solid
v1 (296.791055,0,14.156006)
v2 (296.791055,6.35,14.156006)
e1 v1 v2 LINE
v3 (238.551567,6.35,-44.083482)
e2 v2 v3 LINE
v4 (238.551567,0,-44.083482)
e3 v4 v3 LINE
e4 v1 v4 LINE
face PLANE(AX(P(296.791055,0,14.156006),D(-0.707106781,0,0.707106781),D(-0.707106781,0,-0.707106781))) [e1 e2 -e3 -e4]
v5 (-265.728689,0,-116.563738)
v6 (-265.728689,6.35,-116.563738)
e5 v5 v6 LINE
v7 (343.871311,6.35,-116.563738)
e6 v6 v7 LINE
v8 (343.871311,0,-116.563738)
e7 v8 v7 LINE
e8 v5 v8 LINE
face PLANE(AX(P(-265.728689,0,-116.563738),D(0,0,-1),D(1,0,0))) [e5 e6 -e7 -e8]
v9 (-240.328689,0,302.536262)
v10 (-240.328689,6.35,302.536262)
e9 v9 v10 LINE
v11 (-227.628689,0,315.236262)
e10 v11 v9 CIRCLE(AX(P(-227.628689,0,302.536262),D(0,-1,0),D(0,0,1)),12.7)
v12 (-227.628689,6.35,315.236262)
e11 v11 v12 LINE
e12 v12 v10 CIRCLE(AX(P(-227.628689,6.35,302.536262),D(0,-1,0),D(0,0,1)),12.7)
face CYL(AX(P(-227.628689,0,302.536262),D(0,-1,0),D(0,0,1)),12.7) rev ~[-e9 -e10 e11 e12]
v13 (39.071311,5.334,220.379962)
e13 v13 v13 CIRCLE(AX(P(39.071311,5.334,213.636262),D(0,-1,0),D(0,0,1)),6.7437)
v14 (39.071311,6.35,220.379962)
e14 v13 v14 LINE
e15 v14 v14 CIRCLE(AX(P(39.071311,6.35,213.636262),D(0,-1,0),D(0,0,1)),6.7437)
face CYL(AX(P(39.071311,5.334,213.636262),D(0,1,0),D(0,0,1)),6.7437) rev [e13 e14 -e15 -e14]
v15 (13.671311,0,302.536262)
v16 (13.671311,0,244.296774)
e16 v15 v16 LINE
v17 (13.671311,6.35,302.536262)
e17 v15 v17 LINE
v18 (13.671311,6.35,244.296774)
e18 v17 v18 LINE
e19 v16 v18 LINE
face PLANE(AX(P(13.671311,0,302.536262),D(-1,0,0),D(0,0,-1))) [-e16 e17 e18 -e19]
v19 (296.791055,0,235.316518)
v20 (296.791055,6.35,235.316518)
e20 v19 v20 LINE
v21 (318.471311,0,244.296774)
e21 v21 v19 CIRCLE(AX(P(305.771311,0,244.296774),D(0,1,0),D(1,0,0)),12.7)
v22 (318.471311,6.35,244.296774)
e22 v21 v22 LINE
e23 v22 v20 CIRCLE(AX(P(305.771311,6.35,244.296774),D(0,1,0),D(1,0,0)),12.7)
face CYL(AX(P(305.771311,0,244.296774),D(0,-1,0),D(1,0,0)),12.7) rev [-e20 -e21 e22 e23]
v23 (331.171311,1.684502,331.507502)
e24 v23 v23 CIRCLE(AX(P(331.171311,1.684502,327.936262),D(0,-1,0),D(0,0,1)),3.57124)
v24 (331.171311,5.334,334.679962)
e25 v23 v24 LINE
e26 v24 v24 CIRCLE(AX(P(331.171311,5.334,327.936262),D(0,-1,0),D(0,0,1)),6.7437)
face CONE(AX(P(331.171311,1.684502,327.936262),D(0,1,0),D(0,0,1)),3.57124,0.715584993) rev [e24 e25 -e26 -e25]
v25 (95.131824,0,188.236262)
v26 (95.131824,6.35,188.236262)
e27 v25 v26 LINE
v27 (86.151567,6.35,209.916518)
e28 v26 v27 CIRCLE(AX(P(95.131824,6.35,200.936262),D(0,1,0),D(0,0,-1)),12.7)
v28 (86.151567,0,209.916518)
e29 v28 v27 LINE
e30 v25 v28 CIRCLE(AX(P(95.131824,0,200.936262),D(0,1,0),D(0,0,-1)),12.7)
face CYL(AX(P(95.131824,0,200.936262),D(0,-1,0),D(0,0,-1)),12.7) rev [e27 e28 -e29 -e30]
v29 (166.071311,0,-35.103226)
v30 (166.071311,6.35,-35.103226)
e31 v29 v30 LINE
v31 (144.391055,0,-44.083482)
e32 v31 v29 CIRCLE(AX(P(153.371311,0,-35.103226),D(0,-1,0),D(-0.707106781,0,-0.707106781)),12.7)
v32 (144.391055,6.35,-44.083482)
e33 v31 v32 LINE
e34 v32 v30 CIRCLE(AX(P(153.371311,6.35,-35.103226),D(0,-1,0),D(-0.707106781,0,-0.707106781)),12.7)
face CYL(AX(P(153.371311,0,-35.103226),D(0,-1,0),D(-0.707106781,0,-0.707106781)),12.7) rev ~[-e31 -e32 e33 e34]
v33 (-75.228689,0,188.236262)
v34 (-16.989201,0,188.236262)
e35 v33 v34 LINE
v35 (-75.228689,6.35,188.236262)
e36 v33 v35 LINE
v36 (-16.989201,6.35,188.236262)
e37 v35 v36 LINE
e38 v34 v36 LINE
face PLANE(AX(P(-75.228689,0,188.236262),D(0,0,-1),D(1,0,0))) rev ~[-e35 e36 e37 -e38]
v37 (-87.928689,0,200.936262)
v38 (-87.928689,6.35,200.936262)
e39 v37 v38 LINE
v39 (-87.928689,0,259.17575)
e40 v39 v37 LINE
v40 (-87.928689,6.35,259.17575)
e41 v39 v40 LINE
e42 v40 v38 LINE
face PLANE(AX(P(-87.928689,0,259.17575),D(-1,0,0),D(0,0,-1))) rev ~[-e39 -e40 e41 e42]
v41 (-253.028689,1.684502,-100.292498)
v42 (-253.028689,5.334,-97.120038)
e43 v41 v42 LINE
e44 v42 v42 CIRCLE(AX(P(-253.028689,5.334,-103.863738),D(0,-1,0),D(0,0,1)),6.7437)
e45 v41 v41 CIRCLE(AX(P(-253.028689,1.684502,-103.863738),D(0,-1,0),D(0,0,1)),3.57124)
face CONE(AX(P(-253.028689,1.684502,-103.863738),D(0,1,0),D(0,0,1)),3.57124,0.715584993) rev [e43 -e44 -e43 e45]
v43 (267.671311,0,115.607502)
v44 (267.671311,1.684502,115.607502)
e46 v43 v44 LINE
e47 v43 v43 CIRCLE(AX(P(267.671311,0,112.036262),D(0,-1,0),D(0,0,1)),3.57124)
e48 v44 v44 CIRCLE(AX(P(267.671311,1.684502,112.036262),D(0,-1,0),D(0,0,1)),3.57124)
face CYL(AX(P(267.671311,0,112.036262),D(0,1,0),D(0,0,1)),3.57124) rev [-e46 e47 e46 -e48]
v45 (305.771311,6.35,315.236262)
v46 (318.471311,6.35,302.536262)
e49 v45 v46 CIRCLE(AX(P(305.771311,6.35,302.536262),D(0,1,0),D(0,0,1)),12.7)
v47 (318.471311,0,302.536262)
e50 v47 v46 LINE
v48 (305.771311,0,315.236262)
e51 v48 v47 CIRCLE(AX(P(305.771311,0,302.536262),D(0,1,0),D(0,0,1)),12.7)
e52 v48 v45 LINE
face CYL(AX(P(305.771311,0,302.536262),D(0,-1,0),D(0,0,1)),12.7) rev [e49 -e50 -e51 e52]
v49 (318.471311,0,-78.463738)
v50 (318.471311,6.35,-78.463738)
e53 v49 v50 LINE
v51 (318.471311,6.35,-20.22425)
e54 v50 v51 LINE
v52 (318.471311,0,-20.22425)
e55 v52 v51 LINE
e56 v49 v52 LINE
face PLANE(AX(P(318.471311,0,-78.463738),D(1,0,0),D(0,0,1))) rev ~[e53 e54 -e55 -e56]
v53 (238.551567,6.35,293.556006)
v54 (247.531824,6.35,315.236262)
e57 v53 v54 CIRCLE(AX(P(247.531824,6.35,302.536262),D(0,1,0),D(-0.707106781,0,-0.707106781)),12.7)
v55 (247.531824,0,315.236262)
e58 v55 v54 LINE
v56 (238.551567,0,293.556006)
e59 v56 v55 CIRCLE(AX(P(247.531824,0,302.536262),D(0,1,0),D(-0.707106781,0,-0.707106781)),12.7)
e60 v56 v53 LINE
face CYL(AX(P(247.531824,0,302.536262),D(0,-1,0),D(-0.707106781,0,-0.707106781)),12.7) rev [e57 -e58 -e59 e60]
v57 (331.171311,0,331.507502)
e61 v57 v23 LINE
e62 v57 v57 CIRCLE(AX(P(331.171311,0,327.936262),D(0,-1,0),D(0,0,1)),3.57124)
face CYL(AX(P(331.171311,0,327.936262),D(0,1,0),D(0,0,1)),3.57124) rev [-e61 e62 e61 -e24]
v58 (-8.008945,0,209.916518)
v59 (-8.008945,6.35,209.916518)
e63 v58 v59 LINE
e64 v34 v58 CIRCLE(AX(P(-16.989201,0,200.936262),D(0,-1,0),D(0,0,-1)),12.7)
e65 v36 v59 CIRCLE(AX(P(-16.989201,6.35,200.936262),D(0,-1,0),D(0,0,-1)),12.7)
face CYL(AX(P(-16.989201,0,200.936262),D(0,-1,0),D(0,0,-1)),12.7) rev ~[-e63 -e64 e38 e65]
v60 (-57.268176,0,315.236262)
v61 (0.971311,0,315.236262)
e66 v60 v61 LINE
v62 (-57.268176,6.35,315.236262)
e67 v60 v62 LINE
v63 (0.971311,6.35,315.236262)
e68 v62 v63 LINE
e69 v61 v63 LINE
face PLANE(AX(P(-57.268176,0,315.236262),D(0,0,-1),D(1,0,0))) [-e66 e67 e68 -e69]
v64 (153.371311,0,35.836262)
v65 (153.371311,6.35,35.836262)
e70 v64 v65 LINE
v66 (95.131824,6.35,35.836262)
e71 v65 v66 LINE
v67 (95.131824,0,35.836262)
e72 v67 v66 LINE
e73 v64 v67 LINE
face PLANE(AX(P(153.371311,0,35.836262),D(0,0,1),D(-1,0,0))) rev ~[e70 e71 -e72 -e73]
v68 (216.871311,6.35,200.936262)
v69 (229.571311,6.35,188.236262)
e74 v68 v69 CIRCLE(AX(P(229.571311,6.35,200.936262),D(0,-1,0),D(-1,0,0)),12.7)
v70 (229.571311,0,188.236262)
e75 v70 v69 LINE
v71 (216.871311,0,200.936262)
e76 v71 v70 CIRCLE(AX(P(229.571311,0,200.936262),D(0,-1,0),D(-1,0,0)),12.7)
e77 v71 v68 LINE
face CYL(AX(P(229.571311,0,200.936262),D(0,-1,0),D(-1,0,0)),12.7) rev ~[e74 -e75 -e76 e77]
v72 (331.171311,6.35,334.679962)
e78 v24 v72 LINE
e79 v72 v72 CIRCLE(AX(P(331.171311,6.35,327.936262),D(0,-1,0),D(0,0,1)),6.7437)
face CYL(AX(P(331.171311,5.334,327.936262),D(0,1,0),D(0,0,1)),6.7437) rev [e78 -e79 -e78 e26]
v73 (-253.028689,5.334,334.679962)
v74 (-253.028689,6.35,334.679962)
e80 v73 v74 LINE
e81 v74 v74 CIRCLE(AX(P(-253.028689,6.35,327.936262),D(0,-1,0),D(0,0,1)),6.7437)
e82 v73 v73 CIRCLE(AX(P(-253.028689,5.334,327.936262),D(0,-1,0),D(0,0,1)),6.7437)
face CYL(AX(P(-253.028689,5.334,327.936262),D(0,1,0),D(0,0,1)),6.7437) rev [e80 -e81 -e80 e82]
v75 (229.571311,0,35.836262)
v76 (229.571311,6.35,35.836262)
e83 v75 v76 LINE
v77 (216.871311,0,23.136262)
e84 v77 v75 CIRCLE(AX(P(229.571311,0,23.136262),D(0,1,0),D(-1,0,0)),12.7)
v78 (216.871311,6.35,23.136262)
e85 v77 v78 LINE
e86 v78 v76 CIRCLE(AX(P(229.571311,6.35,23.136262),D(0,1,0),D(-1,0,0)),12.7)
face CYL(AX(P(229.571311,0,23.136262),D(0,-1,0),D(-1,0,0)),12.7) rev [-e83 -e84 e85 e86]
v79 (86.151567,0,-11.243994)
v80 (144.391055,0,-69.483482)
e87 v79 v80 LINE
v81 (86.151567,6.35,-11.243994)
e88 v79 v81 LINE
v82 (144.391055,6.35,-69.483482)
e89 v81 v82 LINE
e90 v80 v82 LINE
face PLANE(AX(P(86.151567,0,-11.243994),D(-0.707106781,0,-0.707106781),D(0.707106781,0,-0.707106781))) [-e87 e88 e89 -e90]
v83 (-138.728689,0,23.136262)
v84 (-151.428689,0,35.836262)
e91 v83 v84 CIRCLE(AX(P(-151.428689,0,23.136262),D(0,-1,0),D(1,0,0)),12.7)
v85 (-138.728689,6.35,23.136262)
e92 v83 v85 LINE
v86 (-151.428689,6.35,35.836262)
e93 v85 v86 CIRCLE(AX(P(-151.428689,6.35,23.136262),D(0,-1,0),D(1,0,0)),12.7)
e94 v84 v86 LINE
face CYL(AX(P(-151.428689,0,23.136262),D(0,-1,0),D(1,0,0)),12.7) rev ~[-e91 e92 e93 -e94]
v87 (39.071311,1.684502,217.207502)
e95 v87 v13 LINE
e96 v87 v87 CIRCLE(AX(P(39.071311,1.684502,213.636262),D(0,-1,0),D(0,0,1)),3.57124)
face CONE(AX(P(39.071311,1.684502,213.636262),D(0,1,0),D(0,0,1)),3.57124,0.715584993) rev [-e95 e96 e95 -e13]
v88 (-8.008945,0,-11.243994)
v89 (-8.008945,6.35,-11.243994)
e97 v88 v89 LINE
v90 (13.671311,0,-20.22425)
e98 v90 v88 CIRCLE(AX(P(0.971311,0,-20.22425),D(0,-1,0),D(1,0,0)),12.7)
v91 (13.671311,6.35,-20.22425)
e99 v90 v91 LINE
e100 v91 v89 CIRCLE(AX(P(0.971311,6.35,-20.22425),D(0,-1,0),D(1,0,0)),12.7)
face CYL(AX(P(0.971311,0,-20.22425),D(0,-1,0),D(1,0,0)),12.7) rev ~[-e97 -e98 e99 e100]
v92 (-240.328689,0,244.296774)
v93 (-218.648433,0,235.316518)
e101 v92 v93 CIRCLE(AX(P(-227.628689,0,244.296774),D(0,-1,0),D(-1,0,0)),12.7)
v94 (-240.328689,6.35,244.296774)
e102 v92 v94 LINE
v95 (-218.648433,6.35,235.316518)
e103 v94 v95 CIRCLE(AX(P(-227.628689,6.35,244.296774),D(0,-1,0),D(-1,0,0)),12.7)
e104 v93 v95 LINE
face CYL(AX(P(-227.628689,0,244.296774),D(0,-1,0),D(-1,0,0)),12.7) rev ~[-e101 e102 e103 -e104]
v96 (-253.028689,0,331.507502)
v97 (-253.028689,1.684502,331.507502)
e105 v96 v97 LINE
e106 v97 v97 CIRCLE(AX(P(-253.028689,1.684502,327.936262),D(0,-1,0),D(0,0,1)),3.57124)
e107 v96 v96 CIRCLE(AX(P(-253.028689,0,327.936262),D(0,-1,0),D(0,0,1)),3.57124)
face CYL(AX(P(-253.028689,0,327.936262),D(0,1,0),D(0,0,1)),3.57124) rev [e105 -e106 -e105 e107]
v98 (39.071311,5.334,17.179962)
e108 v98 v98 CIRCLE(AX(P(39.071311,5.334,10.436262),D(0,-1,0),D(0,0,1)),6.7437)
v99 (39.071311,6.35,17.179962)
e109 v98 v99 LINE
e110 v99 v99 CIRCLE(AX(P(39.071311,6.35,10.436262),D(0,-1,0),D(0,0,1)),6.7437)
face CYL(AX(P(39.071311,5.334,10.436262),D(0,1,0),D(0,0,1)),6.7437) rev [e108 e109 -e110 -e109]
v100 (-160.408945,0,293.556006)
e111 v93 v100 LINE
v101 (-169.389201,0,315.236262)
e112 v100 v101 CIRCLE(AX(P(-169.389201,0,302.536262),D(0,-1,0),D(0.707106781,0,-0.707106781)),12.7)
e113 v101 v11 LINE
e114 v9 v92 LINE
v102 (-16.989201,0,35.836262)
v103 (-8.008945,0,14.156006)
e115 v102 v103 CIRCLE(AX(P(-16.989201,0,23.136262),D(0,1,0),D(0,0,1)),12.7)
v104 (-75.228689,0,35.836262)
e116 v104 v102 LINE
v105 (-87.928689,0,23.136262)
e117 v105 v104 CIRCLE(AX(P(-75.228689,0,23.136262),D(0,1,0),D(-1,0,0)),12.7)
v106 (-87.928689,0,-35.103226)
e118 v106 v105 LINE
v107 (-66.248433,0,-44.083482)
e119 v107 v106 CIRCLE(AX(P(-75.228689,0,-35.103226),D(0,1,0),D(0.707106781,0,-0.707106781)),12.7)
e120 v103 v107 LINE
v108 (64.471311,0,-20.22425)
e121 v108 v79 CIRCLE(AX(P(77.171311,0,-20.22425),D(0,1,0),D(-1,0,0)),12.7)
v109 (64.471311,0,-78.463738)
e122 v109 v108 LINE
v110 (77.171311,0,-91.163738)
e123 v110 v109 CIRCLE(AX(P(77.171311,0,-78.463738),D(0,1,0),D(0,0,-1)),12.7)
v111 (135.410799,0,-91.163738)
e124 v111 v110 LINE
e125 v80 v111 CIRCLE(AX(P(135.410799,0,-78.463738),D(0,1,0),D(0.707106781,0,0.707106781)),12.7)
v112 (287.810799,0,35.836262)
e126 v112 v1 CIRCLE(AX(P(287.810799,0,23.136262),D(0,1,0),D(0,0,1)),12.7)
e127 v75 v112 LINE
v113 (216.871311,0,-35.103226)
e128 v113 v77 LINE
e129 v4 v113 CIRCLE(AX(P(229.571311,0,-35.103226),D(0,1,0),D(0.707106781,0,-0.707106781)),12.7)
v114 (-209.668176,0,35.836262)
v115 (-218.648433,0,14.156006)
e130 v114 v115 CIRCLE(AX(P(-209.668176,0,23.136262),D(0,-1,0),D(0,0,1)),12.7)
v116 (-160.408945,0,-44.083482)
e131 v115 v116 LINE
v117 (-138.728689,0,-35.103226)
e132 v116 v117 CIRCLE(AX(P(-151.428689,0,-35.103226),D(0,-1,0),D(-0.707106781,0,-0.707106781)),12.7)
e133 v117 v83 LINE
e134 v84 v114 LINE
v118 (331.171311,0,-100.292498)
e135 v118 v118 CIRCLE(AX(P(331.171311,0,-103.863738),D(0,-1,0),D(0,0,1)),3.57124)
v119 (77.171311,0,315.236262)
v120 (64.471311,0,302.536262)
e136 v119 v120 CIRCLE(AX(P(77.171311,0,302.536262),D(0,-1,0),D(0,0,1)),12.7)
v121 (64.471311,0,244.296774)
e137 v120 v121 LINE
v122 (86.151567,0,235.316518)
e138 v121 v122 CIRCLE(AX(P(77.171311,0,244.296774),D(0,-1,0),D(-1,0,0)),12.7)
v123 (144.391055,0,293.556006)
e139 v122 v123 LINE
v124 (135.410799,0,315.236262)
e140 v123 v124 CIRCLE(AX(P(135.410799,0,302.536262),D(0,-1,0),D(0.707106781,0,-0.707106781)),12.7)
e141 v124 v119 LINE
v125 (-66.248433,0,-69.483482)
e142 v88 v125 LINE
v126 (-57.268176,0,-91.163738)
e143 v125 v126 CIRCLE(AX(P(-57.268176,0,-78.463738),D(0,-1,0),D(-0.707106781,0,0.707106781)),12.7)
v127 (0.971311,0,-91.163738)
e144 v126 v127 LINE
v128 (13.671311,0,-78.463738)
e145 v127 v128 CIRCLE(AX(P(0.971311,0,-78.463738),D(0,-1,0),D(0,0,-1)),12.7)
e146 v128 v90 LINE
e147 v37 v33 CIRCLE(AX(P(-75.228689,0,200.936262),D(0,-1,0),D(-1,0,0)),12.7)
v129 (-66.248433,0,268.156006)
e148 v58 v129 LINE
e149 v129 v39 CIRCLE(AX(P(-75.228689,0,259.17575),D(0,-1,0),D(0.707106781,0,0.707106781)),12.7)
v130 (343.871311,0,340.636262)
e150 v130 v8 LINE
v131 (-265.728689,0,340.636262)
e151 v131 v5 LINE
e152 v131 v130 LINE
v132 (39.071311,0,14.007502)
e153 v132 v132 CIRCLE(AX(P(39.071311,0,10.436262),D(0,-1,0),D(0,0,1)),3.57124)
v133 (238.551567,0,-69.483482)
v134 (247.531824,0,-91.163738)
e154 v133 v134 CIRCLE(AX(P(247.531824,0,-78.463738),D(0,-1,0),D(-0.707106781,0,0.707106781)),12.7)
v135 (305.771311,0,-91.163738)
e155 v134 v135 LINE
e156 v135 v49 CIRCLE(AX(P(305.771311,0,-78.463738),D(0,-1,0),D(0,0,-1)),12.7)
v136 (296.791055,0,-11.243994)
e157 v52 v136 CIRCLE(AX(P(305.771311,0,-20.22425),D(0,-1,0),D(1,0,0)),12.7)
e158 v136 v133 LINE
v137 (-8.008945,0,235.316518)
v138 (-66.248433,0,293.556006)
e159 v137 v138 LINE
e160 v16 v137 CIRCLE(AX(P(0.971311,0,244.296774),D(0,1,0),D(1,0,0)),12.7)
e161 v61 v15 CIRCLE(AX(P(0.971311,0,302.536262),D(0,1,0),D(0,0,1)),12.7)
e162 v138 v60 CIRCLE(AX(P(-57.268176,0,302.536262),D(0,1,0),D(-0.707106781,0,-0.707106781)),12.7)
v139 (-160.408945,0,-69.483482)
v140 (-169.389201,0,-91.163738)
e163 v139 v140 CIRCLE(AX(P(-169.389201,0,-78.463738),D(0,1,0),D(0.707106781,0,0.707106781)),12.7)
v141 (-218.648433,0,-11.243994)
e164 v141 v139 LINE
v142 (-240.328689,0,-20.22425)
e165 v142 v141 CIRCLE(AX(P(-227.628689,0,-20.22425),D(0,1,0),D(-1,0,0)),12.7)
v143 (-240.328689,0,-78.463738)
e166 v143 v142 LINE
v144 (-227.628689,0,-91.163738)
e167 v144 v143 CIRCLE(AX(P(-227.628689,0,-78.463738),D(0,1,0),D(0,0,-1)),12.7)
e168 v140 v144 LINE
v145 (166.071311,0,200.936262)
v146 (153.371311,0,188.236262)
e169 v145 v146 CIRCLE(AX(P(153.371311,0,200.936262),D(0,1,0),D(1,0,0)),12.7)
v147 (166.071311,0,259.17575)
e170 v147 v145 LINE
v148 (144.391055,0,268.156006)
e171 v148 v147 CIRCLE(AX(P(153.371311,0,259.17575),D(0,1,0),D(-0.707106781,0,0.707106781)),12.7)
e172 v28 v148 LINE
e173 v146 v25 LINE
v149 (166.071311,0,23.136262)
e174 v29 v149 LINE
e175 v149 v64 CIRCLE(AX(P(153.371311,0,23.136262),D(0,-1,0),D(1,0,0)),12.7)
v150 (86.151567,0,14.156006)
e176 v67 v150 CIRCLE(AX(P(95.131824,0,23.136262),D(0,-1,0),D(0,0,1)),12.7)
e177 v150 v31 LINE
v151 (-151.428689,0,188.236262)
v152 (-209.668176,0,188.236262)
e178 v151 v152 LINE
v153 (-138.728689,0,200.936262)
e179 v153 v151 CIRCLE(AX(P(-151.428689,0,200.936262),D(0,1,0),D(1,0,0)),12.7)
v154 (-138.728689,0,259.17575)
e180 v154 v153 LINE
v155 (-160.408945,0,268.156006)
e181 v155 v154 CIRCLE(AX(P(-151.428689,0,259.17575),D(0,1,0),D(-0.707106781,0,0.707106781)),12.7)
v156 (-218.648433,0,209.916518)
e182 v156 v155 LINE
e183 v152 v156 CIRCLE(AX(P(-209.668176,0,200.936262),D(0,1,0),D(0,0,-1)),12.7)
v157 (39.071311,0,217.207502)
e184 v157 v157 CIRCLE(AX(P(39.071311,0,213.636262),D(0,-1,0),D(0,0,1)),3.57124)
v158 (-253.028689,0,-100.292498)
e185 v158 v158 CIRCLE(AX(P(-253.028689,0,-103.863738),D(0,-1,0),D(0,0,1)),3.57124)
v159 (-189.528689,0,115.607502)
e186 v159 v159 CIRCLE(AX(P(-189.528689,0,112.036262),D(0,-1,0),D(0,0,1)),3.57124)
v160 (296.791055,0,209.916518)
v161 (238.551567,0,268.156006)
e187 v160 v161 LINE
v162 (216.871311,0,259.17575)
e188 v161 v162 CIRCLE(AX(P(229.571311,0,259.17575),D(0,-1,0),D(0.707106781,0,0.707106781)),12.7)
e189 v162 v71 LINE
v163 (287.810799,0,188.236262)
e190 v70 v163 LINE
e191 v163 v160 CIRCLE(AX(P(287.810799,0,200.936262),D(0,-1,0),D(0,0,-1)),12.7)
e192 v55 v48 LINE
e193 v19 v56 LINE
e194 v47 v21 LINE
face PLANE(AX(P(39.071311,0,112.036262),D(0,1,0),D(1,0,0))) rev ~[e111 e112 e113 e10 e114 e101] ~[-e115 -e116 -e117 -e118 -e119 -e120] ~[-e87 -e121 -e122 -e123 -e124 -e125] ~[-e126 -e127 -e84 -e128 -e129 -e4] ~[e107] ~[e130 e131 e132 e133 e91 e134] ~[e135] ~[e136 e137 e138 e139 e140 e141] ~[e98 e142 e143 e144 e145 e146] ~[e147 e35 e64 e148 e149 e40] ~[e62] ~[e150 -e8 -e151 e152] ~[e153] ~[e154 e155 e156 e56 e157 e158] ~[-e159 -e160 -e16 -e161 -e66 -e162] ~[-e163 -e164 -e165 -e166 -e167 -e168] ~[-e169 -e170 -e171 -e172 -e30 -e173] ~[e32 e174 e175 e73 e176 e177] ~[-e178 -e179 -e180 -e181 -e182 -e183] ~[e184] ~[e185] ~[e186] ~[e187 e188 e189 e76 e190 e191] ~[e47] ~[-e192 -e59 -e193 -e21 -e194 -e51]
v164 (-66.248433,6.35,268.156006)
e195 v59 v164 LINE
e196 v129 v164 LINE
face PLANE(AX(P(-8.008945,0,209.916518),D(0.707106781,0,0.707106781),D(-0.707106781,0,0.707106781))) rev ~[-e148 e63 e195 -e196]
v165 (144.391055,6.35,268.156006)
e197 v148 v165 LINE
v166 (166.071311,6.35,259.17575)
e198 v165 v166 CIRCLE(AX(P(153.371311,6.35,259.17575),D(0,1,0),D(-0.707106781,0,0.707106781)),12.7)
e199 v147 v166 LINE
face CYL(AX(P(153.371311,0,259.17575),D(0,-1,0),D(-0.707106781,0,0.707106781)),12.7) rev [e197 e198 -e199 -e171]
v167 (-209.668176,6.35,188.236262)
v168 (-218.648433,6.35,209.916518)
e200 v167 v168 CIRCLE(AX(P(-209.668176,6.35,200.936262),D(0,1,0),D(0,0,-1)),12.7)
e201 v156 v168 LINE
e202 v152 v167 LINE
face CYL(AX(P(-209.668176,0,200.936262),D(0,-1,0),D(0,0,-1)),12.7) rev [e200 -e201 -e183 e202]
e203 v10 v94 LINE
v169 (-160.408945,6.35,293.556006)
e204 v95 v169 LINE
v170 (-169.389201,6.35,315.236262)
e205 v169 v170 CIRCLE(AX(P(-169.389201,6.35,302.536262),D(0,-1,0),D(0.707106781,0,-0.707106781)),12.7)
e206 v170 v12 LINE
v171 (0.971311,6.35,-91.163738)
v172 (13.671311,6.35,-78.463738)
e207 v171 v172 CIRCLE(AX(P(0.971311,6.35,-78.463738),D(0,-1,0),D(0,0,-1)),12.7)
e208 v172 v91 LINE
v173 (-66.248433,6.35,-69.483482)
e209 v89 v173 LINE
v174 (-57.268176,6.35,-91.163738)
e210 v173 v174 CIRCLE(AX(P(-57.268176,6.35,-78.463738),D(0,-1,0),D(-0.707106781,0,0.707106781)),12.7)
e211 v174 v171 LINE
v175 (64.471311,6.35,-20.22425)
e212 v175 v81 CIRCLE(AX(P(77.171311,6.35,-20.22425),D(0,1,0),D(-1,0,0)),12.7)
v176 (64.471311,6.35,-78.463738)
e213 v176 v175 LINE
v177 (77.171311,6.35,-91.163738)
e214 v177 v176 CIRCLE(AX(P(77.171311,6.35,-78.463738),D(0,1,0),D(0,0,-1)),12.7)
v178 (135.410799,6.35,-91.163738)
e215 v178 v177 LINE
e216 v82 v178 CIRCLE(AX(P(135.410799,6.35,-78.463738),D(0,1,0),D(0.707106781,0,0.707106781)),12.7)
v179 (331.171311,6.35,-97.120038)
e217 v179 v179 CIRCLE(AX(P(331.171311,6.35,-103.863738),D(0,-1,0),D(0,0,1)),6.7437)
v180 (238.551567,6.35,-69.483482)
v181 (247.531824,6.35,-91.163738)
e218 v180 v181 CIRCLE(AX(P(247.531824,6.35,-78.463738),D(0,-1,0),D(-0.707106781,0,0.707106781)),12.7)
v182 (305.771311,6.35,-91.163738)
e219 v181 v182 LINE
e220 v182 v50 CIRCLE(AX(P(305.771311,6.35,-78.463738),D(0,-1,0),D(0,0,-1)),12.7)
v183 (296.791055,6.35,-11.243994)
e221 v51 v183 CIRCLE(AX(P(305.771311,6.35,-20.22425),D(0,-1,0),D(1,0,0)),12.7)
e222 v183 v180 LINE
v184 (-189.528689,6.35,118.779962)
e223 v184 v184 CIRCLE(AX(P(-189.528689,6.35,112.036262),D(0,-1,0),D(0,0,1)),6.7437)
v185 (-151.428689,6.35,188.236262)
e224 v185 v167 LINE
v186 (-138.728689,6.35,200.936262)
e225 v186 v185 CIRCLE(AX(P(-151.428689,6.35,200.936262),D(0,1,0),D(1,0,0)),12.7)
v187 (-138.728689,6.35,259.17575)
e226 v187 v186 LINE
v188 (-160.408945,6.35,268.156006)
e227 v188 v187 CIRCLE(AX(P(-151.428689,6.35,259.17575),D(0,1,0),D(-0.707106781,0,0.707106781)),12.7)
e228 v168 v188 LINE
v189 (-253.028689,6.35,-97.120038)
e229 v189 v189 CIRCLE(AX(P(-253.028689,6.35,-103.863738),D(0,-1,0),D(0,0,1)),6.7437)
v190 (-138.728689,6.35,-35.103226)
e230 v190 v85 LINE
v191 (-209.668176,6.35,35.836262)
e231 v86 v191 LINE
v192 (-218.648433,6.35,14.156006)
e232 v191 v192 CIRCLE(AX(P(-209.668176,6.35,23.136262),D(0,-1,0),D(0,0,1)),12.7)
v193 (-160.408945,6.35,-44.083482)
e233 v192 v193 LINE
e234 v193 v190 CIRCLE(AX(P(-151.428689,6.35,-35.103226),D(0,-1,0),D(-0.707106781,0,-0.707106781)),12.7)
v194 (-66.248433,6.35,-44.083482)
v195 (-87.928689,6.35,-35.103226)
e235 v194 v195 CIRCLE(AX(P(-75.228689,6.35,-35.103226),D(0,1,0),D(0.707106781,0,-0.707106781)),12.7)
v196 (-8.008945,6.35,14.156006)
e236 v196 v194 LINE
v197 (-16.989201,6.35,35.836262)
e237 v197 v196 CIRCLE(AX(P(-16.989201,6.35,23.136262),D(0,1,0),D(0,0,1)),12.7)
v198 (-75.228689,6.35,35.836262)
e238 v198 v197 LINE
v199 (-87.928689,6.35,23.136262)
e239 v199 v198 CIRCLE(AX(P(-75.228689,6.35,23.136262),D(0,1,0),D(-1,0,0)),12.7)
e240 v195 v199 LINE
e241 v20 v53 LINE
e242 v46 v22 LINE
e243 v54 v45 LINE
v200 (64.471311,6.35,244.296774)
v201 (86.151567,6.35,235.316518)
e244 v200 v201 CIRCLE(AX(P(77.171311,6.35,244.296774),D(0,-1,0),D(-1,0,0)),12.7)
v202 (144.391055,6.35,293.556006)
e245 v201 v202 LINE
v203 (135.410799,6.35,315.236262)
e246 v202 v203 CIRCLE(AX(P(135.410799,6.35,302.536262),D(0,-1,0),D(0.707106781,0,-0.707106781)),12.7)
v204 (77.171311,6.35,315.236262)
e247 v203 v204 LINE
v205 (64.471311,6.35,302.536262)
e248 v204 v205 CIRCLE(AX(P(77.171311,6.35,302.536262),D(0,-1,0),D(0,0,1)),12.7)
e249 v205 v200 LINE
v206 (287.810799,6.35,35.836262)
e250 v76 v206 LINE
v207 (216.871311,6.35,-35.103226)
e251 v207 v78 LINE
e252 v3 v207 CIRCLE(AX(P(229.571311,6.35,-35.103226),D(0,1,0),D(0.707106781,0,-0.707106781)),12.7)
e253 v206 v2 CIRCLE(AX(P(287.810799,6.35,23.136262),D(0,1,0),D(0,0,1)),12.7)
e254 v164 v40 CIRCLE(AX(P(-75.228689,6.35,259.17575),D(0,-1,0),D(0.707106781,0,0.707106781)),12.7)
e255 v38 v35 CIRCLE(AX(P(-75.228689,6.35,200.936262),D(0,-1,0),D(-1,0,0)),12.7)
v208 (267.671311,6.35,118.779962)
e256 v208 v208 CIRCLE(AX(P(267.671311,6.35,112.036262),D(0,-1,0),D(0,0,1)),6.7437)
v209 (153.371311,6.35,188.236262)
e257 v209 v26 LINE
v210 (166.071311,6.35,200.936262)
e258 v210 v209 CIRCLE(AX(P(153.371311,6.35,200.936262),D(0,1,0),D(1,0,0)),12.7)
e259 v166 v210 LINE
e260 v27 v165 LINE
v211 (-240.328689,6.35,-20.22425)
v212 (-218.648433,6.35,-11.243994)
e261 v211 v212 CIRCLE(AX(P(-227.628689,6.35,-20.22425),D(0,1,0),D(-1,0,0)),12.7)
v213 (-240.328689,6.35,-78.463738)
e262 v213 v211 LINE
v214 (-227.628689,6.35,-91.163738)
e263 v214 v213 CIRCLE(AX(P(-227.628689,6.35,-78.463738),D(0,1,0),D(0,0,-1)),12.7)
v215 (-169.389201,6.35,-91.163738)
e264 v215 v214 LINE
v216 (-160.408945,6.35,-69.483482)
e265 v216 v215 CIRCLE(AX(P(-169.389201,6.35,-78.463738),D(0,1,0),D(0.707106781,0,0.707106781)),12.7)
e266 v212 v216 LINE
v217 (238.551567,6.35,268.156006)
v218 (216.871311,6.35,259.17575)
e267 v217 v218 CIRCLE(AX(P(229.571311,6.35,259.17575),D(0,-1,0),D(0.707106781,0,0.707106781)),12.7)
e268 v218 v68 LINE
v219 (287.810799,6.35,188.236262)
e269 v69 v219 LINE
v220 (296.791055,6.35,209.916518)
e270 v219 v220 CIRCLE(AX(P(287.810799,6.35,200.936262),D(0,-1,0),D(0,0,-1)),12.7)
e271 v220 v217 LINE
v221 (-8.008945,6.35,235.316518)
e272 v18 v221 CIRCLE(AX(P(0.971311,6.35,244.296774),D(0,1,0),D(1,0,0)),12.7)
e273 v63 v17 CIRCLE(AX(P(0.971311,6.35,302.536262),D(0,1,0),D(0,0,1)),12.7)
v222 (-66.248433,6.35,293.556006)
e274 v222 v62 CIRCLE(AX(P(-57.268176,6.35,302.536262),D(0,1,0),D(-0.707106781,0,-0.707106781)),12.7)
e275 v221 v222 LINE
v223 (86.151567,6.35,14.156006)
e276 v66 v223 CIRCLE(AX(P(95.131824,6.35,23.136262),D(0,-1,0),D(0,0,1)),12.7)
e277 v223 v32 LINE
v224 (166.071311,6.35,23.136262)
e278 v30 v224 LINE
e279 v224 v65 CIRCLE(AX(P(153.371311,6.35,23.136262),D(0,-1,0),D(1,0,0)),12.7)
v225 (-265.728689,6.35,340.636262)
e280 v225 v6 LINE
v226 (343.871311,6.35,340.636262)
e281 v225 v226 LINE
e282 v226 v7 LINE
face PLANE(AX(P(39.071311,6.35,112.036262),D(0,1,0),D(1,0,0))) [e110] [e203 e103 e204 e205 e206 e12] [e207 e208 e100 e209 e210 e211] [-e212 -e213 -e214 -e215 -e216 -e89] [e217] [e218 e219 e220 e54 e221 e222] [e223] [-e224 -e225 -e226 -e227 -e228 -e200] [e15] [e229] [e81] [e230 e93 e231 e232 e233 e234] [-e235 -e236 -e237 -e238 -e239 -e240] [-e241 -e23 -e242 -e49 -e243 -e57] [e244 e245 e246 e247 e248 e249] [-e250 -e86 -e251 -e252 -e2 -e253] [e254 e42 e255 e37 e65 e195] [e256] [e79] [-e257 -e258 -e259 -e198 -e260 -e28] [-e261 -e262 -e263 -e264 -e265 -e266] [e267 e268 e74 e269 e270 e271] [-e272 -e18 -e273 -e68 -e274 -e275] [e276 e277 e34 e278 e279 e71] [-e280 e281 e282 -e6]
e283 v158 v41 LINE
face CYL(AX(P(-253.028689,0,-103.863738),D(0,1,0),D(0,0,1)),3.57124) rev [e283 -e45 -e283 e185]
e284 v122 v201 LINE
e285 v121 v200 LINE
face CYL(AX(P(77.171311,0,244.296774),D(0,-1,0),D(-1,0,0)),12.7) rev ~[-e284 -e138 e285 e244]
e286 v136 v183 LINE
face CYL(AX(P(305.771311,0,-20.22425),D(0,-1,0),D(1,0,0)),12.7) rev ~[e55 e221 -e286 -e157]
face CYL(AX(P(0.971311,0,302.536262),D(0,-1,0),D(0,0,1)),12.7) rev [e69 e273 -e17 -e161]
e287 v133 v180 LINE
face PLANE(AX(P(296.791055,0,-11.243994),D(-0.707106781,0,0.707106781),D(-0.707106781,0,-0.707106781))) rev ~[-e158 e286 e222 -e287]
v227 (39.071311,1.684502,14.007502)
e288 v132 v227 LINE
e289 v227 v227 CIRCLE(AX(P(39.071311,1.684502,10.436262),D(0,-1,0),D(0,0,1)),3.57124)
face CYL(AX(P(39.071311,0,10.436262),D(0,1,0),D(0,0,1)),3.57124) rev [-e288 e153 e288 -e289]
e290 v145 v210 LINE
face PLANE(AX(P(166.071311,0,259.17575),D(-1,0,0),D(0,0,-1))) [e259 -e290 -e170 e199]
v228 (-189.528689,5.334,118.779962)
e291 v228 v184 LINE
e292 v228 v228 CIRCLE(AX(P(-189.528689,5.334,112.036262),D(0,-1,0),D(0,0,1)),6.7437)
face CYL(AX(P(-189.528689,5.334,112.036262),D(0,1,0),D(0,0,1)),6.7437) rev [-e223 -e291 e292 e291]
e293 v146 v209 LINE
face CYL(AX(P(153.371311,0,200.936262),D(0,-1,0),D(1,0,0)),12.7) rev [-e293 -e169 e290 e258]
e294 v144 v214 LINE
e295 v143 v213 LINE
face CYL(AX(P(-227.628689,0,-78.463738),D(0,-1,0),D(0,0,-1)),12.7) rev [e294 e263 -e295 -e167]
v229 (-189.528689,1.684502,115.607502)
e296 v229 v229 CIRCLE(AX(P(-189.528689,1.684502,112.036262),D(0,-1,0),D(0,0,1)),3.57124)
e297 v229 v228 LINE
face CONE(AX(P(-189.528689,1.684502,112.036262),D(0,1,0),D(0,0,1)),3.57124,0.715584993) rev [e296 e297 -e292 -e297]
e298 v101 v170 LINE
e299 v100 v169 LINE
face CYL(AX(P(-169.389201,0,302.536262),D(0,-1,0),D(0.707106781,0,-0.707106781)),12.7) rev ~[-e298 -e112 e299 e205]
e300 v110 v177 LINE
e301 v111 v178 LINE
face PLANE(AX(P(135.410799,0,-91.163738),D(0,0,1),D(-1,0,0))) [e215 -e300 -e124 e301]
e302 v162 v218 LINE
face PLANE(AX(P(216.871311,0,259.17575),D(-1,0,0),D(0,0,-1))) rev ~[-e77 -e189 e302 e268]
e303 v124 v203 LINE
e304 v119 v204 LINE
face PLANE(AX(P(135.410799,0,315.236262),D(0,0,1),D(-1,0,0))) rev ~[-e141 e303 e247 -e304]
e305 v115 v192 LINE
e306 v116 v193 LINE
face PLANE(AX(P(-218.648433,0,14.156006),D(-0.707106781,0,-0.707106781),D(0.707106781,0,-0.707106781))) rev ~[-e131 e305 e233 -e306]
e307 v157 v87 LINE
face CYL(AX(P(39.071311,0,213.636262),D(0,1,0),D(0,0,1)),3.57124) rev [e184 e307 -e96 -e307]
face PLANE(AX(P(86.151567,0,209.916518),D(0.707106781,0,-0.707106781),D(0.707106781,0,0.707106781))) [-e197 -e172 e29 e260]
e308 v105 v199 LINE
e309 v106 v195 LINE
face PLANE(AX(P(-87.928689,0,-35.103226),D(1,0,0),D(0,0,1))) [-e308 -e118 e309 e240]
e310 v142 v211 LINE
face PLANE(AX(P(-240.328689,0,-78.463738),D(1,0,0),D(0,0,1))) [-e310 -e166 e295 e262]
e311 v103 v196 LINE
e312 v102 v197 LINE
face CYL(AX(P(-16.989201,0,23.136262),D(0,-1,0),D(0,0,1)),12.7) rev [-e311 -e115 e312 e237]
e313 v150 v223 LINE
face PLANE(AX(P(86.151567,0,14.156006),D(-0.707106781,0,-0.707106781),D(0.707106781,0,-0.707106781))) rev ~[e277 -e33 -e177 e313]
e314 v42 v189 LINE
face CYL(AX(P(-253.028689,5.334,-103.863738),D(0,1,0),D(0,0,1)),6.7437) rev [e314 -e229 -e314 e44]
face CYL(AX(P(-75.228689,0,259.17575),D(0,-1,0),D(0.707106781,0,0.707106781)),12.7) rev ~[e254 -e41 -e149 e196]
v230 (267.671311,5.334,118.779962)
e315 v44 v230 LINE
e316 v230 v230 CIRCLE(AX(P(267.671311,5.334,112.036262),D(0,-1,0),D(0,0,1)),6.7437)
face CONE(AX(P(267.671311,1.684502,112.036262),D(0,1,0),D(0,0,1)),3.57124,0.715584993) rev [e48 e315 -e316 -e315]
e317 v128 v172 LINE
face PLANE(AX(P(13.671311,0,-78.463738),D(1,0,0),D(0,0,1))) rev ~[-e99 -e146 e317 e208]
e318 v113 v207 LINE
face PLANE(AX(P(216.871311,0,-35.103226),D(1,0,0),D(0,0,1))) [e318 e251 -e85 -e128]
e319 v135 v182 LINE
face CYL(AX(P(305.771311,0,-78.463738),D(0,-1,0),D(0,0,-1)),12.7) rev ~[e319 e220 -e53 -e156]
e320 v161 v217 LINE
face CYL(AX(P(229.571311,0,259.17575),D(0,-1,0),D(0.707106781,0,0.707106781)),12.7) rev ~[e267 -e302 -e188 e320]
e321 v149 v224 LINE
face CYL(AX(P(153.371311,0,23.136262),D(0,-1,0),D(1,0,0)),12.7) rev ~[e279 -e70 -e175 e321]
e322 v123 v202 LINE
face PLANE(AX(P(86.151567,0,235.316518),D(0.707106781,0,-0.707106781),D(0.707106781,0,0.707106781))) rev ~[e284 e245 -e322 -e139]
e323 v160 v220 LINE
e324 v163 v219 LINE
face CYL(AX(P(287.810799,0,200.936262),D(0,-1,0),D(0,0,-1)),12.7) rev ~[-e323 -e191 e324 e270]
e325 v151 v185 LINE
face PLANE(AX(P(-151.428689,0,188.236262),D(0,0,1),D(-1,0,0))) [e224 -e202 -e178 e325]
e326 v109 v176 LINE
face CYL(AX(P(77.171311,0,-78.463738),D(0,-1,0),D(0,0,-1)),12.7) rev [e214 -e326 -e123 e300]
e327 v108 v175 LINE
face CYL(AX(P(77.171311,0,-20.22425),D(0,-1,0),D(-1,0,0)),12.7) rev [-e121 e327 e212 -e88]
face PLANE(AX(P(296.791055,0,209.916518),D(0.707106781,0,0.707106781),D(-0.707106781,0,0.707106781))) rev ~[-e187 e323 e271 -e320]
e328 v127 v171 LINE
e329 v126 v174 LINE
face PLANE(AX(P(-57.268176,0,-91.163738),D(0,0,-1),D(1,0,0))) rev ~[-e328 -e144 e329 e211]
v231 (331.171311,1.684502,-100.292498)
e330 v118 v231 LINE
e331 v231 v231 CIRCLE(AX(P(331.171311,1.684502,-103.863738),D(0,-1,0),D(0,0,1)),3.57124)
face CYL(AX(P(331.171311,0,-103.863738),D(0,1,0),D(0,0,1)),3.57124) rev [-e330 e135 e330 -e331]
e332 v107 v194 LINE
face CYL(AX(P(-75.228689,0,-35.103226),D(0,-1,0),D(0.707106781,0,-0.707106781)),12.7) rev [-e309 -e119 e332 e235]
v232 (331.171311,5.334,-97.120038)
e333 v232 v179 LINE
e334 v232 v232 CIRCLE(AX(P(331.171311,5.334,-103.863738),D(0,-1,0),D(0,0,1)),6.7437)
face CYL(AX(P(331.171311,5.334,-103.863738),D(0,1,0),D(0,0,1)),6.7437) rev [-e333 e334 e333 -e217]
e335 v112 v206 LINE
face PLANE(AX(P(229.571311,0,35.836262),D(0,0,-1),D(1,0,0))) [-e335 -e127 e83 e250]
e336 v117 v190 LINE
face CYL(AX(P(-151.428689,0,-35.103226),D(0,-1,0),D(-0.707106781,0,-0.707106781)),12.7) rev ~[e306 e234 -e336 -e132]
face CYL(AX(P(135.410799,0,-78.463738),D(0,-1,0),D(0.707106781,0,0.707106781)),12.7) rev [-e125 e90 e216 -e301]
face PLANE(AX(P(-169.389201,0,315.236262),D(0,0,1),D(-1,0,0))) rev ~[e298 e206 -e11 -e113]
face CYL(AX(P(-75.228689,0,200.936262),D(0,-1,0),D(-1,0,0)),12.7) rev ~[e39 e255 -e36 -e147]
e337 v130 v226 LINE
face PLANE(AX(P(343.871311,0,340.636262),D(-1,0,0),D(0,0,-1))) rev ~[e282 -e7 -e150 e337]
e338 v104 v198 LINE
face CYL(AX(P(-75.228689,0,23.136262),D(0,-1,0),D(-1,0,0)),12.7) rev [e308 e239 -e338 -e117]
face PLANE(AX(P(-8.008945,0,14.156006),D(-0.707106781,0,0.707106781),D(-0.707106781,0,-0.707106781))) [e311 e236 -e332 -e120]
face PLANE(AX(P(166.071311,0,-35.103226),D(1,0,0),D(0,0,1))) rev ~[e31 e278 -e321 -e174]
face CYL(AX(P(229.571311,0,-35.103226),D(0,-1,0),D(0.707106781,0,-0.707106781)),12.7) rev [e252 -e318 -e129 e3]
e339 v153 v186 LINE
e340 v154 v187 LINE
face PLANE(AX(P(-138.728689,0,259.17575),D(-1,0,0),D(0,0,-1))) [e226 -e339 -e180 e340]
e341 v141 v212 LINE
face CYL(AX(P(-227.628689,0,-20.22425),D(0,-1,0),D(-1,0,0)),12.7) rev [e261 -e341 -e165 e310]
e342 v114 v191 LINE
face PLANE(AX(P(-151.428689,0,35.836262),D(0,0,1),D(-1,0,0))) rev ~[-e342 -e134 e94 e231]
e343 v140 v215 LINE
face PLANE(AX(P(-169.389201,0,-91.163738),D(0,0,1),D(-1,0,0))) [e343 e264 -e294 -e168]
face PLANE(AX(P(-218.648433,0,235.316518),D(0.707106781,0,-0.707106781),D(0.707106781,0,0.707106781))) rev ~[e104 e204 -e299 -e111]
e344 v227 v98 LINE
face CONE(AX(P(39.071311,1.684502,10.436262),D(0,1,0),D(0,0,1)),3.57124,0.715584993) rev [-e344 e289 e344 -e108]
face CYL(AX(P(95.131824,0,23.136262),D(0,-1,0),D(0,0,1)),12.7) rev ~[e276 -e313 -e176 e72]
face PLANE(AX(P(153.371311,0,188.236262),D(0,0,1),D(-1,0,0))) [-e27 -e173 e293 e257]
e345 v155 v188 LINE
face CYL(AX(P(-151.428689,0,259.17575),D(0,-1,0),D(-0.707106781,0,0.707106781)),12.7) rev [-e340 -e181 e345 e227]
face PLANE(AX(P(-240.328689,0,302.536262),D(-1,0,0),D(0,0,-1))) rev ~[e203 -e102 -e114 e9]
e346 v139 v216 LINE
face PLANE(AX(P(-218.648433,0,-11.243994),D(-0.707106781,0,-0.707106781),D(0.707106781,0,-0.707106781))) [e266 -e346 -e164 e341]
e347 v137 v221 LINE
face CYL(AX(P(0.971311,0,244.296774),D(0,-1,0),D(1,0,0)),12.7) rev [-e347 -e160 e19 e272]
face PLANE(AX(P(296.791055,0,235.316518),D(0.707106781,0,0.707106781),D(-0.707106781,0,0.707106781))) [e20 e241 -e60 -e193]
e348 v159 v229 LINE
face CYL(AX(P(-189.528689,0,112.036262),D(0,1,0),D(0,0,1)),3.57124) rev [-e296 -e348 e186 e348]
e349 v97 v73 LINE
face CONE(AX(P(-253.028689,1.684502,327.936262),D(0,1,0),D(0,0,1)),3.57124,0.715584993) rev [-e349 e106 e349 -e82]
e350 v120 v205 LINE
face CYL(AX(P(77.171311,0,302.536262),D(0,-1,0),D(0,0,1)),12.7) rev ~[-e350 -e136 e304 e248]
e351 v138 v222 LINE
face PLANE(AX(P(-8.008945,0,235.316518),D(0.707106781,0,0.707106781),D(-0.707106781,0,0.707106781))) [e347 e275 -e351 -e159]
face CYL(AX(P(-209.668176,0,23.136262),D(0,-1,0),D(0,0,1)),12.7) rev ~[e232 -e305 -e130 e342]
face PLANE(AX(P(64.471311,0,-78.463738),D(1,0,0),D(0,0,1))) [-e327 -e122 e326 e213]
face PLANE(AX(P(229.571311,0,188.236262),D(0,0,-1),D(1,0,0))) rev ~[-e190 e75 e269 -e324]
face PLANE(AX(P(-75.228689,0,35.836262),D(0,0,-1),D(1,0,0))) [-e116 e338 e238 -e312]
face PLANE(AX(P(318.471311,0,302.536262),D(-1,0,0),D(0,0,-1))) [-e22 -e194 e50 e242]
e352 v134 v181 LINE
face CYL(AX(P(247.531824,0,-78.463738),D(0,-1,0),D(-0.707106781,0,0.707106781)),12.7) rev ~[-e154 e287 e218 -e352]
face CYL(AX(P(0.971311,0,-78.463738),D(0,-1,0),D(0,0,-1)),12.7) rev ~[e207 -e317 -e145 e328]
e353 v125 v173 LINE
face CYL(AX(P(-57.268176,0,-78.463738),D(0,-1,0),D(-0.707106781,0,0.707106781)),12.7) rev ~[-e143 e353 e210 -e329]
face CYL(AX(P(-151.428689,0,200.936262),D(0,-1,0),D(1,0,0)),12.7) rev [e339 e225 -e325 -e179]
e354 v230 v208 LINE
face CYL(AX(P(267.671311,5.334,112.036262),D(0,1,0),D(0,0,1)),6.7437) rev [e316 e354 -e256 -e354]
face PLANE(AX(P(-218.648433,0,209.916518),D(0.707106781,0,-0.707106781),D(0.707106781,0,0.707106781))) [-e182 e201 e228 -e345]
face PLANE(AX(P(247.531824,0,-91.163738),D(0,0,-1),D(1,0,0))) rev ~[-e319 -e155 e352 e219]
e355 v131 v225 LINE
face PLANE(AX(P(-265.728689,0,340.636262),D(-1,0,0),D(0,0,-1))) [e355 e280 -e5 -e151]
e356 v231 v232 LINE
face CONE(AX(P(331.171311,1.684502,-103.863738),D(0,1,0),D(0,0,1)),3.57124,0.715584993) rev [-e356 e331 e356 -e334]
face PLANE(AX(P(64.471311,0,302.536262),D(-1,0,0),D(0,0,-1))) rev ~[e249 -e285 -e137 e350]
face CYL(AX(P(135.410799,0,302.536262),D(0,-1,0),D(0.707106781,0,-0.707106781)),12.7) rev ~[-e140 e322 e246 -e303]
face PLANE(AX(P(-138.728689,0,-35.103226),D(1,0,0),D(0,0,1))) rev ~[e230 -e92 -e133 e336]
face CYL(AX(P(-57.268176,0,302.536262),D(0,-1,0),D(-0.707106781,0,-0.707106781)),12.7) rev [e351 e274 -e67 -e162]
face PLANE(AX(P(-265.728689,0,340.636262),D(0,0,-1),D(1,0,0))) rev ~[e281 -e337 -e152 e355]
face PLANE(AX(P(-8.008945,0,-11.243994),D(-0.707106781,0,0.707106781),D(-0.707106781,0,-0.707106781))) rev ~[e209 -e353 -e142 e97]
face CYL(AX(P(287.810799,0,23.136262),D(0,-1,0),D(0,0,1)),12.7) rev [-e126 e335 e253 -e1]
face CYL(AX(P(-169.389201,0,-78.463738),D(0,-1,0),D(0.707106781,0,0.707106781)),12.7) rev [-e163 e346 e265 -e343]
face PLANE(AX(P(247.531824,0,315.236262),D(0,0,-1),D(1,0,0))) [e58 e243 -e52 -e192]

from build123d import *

# Parameters (mm, degrees)
SKETCH2_W                                    = 609.6
SKETCH2_H                                    = 457.2
BOSS_EXTRUDE1_DEPTH                          = 6.35
CSK_FOR_1_4_FLAT_HEAD_SOCKET_CAP_SCR_2_COUNT = 2
CSK_FOR_1_4_FLAT_HEAD_SOCKET_CAP_SCR_2_PITCH = 225.044573363
CSK_FOR_1_4_FLAT_HEAD_SOCKET_CAP_SCR_3_COUNT = 2
CSK_FOR_1_4_FLAT_HEAD_SOCKET_CAP_SCR_3_PITCH = 431.8
CSK_FOR_1_4_FLAT_HEAD_SOCKET_CAP_SCR_4_COUNT = 2
CSK_FOR_1_4_FLAT_HEAD_SOCKET_CAP_SCR_4_PITCH = 431.426308887
CSK_FOR_1_4_FLAT_HEAD_SOCKET_CAP_SCR_5_COUNT = 2
CSK_FOR_1_4_FLAT_HEAD_SOCKET_CAP_SCR_5_PITCH = 313.666861495
CSK_FOR_1_4_FLAT_HEAD_SOCKET_CAP_SCR_6_COUNT = 2
CSK_FOR_1_4_FLAT_HEAD_SOCKET_CAP_SCR_6_PITCH = 584.2
CSK_FOR_1_4_FLAT_HEAD_SOCKET_CAP_SCR_7_COUNT = 2
CSK_FOR_1_4_FLAT_HEAD_SOCKET_CAP_SCR_7_PITCH = 563.685461938
CSK_FOR_1_4_FLAT_HEAD_SOCKET_CAP_SCR_8_COUNT = 2
CSK_FOR_1_4_FLAT_HEAD_SOCKET_CAP_SCR_8_PITCH = 726.457762021


with BuildPart() as part:
    # Sketch2 → Boss-Extrude1 (new body)
    with BuildSketch(Plane(origin=(0, 0, 0), x_dir=(1, 0, 0), z_dir=(0, 1, 0))):
        with Locations((39.071311338, -112.036262161)):
            Rectangle(SKETCH2_W, SKETCH2_H)
        with BuildLine():
            Line((-240.328688662, 78.463737839), (-240.328688662, 20.224250081))
            ThreePointArc((-240.328688662, 20.224250081), (-232.488768253, 8.490980019), (-218.648432541, 11.24399396))
            Line((-218.648432541, 11.24399396), (-160.408944783, 69.483481718))
            ThreePointArc((-160.408944783, 69.483481718), (-157.655930841, 83.32381743), (-169.389200904, 91.163737839))
            Line((-169.389200904, 91.163737839), (-227.628688662, 91.163737839))
            ThreePointArc((-227.628688662, 91.163737839), (-236.608944783, 87.44399396), (-240.328688662, 78.463737839))
        make_face(mode=Mode.SUBTRACT)
        with BuildLine():
            Line((-218.648432541, -14.15600604), (-160.408944783, 44.083481718))
            ThreePointArc((-160.408944783, 44.083481718), (-146.568609071, 46.83649566), (-138.728688662, 35.103225597))
            Line((-138.728688662, 35.103225597), (-138.728688662, -23.136262161))
            ThreePointArc((-138.728688662, -23.136262161), (-142.448432541, -32.116518282), (-151.428688662, -35.836262161))
            Line((-151.428688662, -35.836262161), (-209.668176419, -35.836262161))
            ThreePointArc((-209.668176419, -35.836262161), (-221.401446482, -27.996341752), (-218.648432541, -14.15600604))
        make_face(mode=Mode.SUBTRACT)
        with BuildLine():
            Line((-75.228688662, -35.836262161), (-16.989200904, -35.836262161))
            ThreePointArc((-16.989200904, -35.836262161), (-5.255930841, -27.996341752), (-8.008944783, -14.15600604))
            Line((-8.008944783, -14.15600604), (-66.248432541, 44.083481718))
            ThreePointArc((-66.248432541, 44.083481718), (-80.088768253, 46.83649566), (-87.928688662, 35.103225597))
            Line((-87.928688662, 35.103225597), (-87.928688662, -23.136262161))
            ThreePointArc((-87.928688662, -23.136262161), (-84.208944783, -32.116518282), (-75.228688662, -35.836262161))
        make_face(mode=Mode.SUBTRACT)
        with BuildLine():
            Line((-57.268176419, 91.163737839), (0.971311338, 91.163737839))
            ThreePointArc((0.971311338, 91.163737839), (9.951567459, 87.44399396), (13.671311338, 78.463737839))
            Line((13.671311338, 78.463737839), (13.671311338, 20.224250081))
            ThreePointArc((13.671311338, 20.224250081), (5.831390929, 8.490980019), (-8.008944783, 11.24399396))
            Line((-8.008944783, 11.24399396), (-66.248432541, 69.483481718))
            ThreePointArc((-66.248432541, 69.483481718), (-69.001446482, 83.32381743), (-57.268176419, 91.163737839))
        make_face(mode=Mode.SUBTRACT)
        with BuildLine():
            Line((64.471311338, 78.463737839), (64.471311338, 20.224250081))
            ThreePointArc((64.471311338, 20.224250081), (72.311231747, 8.490980019), (86.151567459, 11.24399396))
            Line((86.151567459, 11.24399396), (144.391055217, 69.483481718))
            ThreePointArc((144.391055217, 69.483481718), (147.144069159, 83.32381743), (135.410799096, 91.163737839))
            Line((135.410799096, 91.163737839), (77.171311338, 91.163737839))
            ThreePointArc((77.171311338, 91.163737839), (68.191055217, 87.44399396), (64.471311338, 78.463737839))
        make_face(mode=Mode.SUBTRACT)
        with BuildLine():
            Line((86.151567459, -14.15600604), (144.391055217, 44.083481718))
            ThreePointArc((144.391055217, 44.083481718), (158.231390929, 46.83649566), (166.071311338, 35.103225597))
            Line((166.071311338, 35.103225597), (166.071311338, -23.136262161))
            ThreePointArc((166.071311338, -23.136262161), (162.351567459, -32.116518282), (153.371311338, -35.836262161))
            Line((153.371311338, -35.836262161), (95.131823581, -35.836262161))
            ThreePointArc((95.131823581, -35.836262161), (83.398553518, -27.996341752), (86.151567459, -14.15600604))
        make_face(mode=Mode.SUBTRACT)
        with BuildLine():
            Line((229.571311338, -35.836262161), (287.810799096, -35.836262161))
            ThreePointArc((287.810799096, -35.836262161), (299.544069159, -27.996341752), (296.791055217, -14.15600604))
            Line((296.791055217, -14.15600604), (238.551567459, 44.083481718))
            ThreePointArc((238.551567459, 44.083481718), (224.711231747, 46.83649566), (216.871311338, 35.103225597))
            Line((216.871311338, 35.103225597), (216.871311338, -23.136262161))
            ThreePointArc((216.871311338, -23.136262161), (220.591055217, -32.116518282), (229.571311338, -35.836262161))
        make_face(mode=Mode.SUBTRACT)
        with BuildLine():
            Line((247.531823581, 91.163737839), (305.771311338, 91.163737839))
            ThreePointArc((305.771311338, 91.163737839), (314.751567459, 87.44399396), (318.471311338, 78.463737839))
            Line((318.471311338, 78.463737839), (318.471311338, 20.224250081))
            ThreePointArc((318.471311338, 20.224250081), (310.631390929, 8.490980019), (296.791055217, 11.24399396))
            Line((296.791055217, 11.24399396), (238.551567459, 69.483481718))
            ThreePointArc((238.551567459, 69.483481718), (235.798553518, 83.32381743), (247.531823581, 91.163737839))
        make_face(mode=Mode.SUBTRACT)
        with BuildLine():
            Line((318.471311338, -302.536262161), (318.471311338, -244.296774403))
            ThreePointArc((318.471311338, -244.296774403), (310.631390929, -232.56350434), (296.791055217, -235.316518282))
            Line((296.791055217, -235.316518282), (238.551567459, -293.55600604))
            ThreePointArc((238.551567459, -293.55600604), (235.798553518, -307.396341752), (247.531823581, -315.236262161))
            Line((247.531823581, -315.236262161), (305.771311338, -315.236262161))
            ThreePointArc((305.771311338, -315.236262161), (314.751567459, -311.516518282), (318.471311338, -302.536262161))
        make_face(mode=Mode.SUBTRACT)
        with BuildLine():
            Line((296.791055217, -209.916518282), (238.551567459, -268.15600604))
            ThreePointArc((238.551567459, -268.15600604), (224.711231747, -270.909019981), (216.871311338, -259.175749919))
            Line((216.871311338, -259.175749919), (216.871311338, -200.936262161))
            ThreePointArc((216.871311338, -200.936262161), (220.591055217, -191.95600604), (229.571311338, -188.236262161))
            Line((229.571311338, -188.236262161), (287.810799096, -188.236262161))
            ThreePointArc((287.810799096, -188.236262161), (299.544069159, -196.07618257), (296.791055217, -209.916518282))
        make_face(mode=Mode.SUBTRACT)
        with BuildLine():
            Line((153.371311338, -188.236262161), (95.131823581, -188.236262161))
            ThreePointArc((95.131823581, -188.236262161), (83.398553518, -196.07618257), (86.151567459, -209.916518282))
            Line((86.151567459, -209.916518282), (144.391055217, -268.15600604))
            ThreePointArc((144.391055217, -268.15600604), (158.231390929, -270.909019981), (166.071311338, -259.175749919))
            Line((166.071311338, -259.175749919), (166.071311338, -200.936262161))
            ThreePointArc((166.071311338, -200.936262161), (162.351567459, -191.95600604), (153.371311338, -188.236262161))
        make_face(mode=Mode.SUBTRACT)
        with BuildLine():
            Line((135.410799096, -315.236262161), (77.171311338, -315.236262161))
            ThreePointArc((77.171311338, -315.236262161), (68.191055217, -311.516518282), (64.471311338, -302.536262161))
            Line((64.471311338, -302.536262161), (64.471311338, -244.296774403))
            ThreePointArc((64.471311338, -244.296774403), (72.311231747, -232.56350434), (86.151567459, -235.316518282))
            Line((86.151567459, -235.316518282), (144.391055217, -293.55600604))
            ThreePointArc((144.391055217, -293.55600604), (147.144069159, -307.396341752), (135.410799096, -315.236262161))
        make_face(mode=Mode.SUBTRACT)
        with BuildLine():
            Line((13.671311338, -302.536262161), (13.671311338, -244.296774403))
            ThreePointArc((13.671311338, -244.296774403), (5.831390929, -232.56350434), (-8.008944783, -235.316518282))
            Line((-8.008944783, -235.316518282), (-66.248432541, -293.55600604))
            ThreePointArc((-66.248432541, -293.55600604), (-69.001446482, -307.396341752), (-57.268176419, -315.236262161))
            Line((-57.268176419, -315.236262161), (0.971311338, -315.236262161))
            ThreePointArc((0.971311338, -315.236262161), (9.951567459, -311.516518282), (13.671311338, -302.536262161))
        make_face(mode=Mode.SUBTRACT)
        with BuildLine():
            Line((-8.008944783, -209.916518282), (-66.248432541, -268.15600604))
            ThreePointArc((-66.248432541, -268.15600604), (-80.088768253, -270.909019981), (-87.928688662, -259.175749919))
            Line((-87.928688662, -259.175749919), (-87.928688662, -200.936262161))
            ThreePointArc((-87.928688662, -200.936262161), (-84.208944783, -191.95600604), (-75.228688662, -188.236262161))
            Line((-75.228688662, -188.236262161), (-16.989200904, -188.236262161))
            ThreePointArc((-16.989200904, -188.236262161), (-5.255930841, -196.07618257), (-8.008944783, -209.916518282))
        make_face(mode=Mode.SUBTRACT)
        with BuildLine():
            Line((-151.428688662, -188.236262161), (-209.668176419, -188.236262161))
            ThreePointArc((-209.668176419, -188.236262161), (-221.401446482, -196.07618257), (-218.648432541, -209.916518282))
            Line((-218.648432541, -209.916518282), (-160.408944783, -268.15600604))
            ThreePointArc((-160.408944783, -268.15600604), (-146.568609071, -270.909019981), (-138.728688662, -259.175749919))
            Line((-138.728688662, -259.175749919), (-138.728688662, -200.936262161))
            ThreePointArc((-138.728688662, -200.936262161), (-142.448432541, -191.95600604), (-151.428688662, -188.236262161))
        make_face(mode=Mode.SUBTRACT)
        with BuildLine():
            Line((-169.389200904, -315.236262161), (-227.628688662, -315.236262161))
            ThreePointArc((-227.628688662, -315.236262161), (-236.608944783, -311.516518282), (-240.328688662, -302.536262161))
            Line((-240.328688662, -302.536262161), (-240.328688662, -244.296774403))
            ThreePointArc((-240.328688662, -244.296774403), (-232.488768253, -232.56350434), (-218.648432541, -235.316518282))
            Line((-218.648432541, -235.316518282), (-160.408944783, -293.55600604))
            ThreePointArc((-160.408944783, -293.55600604), (-157.655930841, -307.396341752), (-169.389200904, -315.236262161))
        make_face(mode=Mode.SUBTRACT)
    extrude(amount=BOSS_EXTRUDE1_DEPTH)

    # Sketch5 → CSK for 1/4 Flat Head Socket Cap Screw1 (revolve, cut)
    with BuildSketch(Plane(origin=(-253.028688662, 6.35, -103.863737839), x_dir=(0, 0, 1), z_dir=(1, 0, 0))):
        Polygon((0, 0), (0, 6.35), (3.57124, 6.35), (3.57124, 4.665497757), (6.7437, 1.016), (6.7437, 0), align=None)
    csk_for_1_4_flat_head_socket_cap_screw1 = revolve(axis=Axis((-253.028688662, 12.7, -103.863737839), (0, -1, 0)), mode=Mode.SUBTRACT)

    # CSK for 1_4 Flat Head Socket Cap Scr 2: CSK for 1/4 Flat Head Socket Cap Screw1 ×2
    with Locations(*[Vector(0.28216632399155034, 0, 0.9593655015712705) * (i * CSK_FOR_1_4_FLAT_HEAD_SOCKET_CAP_SCR_2_PITCH) for i in range(1, CSK_FOR_1_4_FLAT_HEAD_SOCKET_CAP_SCR_2_COUNT)]):
        add(csk_for_1_4_flat_head_socket_cap_screw1, mode=Mode.SUBTRACT)

    # CSK for 1_4 Flat Head Socket Cap Scr 3: CSK for 1/4 Flat Head Socket Cap Screw1 ×2
    with Locations(*[(0, 0, i * CSK_FOR_1_4_FLAT_HEAD_SOCKET_CAP_SCR_3_PITCH) for i in range(1, CSK_FOR_1_4_FLAT_HEAD_SOCKET_CAP_SCR_3_COUNT)]):
        add(csk_for_1_4_flat_head_socket_cap_screw1, mode=Mode.SUBTRACT)

    # CSK for 1_4 Flat Head Socket Cap Scr 4: CSK for 1/4 Flat Head Socket Cap Screw1 ×2
    with Locations(*[Vector(0.6770565308208836, 0, 0.7359310117618295) * (i * CSK_FOR_1_4_FLAT_HEAD_SOCKET_CAP_SCR_4_PITCH) for i in range(1, CSK_FOR_1_4_FLAT_HEAD_SOCKET_CAP_SCR_4_COUNT)]):
        add(csk_for_1_4_flat_head_socket_cap_screw1, mode=Mode.SUBTRACT)

    # CSK for 1_4 Flat Head Socket Cap Scr 5: CSK for 1/4 Flat Head Socket Cap Screw1 ×2
    with Locations(*[Vector(0.9312427797057535, 0, 0.364399348580512) * (i * CSK_FOR_1_4_FLAT_HEAD_SOCKET_CAP_SCR_5_PITCH) for i in range(1, CSK_FOR_1_4_FLAT_HEAD_SOCKET_CAP_SCR_5_COUNT)]):
        add(csk_for_1_4_flat_head_socket_cap_screw1, mode=Mode.SUBTRACT)

    # CSK for 1_4 Flat Head Socket Cap Scr 6: CSK for 1/4 Flat Head Socket Cap Screw1 ×2
    with Locations(*[(i * CSK_FOR_1_4_FLAT_HEAD_SOCKET_CAP_SCR_6_PITCH, 0, 0) for i in range(1, CSK_FOR_1_4_FLAT_HEAD_SOCKET_CAP_SCR_6_COUNT)]):
        add(csk_for_1_4_flat_head_socket_cap_screw1, mode=Mode.SUBTRACT)

    # CSK for 1_4 Flat Head Socket Cap Scr 7: CSK for 1/4 Flat Head Socket Cap Screw1 ×2
    with Locations(*[Vector(0.9237421135716327, 0, 0.38301502270043275) * (i * CSK_FOR_1_4_FLAT_HEAD_SOCKET_CAP_SCR_7_PITCH) for i in range(1, CSK_FOR_1_4_FLAT_HEAD_SOCKET_CAP_SCR_7_COUNT)]):
        add(csk_for_1_4_flat_head_socket_cap_screw1, mode=Mode.SUBTRACT)

    # CSK for 1_4 Flat Head Socket Cap Scr 8: CSK for 1/4 Flat Head Socket Cap Screw1 ×2
    with Locations(*[Vector(0.8041761414663257, 0, 0.5943910610838057) * (i * CSK_FOR_1_4_FLAT_HEAD_SOCKET_CAP_SCR_8_PITCH) for i in range(1, CSK_FOR_1_4_FLAT_HEAD_SOCKET_CAP_SCR_8_COUNT)]):
        add(csk_for_1_4_flat_head_socket_cap_screw1, mode=Mode.SUBTRACT)


solid = part.part
